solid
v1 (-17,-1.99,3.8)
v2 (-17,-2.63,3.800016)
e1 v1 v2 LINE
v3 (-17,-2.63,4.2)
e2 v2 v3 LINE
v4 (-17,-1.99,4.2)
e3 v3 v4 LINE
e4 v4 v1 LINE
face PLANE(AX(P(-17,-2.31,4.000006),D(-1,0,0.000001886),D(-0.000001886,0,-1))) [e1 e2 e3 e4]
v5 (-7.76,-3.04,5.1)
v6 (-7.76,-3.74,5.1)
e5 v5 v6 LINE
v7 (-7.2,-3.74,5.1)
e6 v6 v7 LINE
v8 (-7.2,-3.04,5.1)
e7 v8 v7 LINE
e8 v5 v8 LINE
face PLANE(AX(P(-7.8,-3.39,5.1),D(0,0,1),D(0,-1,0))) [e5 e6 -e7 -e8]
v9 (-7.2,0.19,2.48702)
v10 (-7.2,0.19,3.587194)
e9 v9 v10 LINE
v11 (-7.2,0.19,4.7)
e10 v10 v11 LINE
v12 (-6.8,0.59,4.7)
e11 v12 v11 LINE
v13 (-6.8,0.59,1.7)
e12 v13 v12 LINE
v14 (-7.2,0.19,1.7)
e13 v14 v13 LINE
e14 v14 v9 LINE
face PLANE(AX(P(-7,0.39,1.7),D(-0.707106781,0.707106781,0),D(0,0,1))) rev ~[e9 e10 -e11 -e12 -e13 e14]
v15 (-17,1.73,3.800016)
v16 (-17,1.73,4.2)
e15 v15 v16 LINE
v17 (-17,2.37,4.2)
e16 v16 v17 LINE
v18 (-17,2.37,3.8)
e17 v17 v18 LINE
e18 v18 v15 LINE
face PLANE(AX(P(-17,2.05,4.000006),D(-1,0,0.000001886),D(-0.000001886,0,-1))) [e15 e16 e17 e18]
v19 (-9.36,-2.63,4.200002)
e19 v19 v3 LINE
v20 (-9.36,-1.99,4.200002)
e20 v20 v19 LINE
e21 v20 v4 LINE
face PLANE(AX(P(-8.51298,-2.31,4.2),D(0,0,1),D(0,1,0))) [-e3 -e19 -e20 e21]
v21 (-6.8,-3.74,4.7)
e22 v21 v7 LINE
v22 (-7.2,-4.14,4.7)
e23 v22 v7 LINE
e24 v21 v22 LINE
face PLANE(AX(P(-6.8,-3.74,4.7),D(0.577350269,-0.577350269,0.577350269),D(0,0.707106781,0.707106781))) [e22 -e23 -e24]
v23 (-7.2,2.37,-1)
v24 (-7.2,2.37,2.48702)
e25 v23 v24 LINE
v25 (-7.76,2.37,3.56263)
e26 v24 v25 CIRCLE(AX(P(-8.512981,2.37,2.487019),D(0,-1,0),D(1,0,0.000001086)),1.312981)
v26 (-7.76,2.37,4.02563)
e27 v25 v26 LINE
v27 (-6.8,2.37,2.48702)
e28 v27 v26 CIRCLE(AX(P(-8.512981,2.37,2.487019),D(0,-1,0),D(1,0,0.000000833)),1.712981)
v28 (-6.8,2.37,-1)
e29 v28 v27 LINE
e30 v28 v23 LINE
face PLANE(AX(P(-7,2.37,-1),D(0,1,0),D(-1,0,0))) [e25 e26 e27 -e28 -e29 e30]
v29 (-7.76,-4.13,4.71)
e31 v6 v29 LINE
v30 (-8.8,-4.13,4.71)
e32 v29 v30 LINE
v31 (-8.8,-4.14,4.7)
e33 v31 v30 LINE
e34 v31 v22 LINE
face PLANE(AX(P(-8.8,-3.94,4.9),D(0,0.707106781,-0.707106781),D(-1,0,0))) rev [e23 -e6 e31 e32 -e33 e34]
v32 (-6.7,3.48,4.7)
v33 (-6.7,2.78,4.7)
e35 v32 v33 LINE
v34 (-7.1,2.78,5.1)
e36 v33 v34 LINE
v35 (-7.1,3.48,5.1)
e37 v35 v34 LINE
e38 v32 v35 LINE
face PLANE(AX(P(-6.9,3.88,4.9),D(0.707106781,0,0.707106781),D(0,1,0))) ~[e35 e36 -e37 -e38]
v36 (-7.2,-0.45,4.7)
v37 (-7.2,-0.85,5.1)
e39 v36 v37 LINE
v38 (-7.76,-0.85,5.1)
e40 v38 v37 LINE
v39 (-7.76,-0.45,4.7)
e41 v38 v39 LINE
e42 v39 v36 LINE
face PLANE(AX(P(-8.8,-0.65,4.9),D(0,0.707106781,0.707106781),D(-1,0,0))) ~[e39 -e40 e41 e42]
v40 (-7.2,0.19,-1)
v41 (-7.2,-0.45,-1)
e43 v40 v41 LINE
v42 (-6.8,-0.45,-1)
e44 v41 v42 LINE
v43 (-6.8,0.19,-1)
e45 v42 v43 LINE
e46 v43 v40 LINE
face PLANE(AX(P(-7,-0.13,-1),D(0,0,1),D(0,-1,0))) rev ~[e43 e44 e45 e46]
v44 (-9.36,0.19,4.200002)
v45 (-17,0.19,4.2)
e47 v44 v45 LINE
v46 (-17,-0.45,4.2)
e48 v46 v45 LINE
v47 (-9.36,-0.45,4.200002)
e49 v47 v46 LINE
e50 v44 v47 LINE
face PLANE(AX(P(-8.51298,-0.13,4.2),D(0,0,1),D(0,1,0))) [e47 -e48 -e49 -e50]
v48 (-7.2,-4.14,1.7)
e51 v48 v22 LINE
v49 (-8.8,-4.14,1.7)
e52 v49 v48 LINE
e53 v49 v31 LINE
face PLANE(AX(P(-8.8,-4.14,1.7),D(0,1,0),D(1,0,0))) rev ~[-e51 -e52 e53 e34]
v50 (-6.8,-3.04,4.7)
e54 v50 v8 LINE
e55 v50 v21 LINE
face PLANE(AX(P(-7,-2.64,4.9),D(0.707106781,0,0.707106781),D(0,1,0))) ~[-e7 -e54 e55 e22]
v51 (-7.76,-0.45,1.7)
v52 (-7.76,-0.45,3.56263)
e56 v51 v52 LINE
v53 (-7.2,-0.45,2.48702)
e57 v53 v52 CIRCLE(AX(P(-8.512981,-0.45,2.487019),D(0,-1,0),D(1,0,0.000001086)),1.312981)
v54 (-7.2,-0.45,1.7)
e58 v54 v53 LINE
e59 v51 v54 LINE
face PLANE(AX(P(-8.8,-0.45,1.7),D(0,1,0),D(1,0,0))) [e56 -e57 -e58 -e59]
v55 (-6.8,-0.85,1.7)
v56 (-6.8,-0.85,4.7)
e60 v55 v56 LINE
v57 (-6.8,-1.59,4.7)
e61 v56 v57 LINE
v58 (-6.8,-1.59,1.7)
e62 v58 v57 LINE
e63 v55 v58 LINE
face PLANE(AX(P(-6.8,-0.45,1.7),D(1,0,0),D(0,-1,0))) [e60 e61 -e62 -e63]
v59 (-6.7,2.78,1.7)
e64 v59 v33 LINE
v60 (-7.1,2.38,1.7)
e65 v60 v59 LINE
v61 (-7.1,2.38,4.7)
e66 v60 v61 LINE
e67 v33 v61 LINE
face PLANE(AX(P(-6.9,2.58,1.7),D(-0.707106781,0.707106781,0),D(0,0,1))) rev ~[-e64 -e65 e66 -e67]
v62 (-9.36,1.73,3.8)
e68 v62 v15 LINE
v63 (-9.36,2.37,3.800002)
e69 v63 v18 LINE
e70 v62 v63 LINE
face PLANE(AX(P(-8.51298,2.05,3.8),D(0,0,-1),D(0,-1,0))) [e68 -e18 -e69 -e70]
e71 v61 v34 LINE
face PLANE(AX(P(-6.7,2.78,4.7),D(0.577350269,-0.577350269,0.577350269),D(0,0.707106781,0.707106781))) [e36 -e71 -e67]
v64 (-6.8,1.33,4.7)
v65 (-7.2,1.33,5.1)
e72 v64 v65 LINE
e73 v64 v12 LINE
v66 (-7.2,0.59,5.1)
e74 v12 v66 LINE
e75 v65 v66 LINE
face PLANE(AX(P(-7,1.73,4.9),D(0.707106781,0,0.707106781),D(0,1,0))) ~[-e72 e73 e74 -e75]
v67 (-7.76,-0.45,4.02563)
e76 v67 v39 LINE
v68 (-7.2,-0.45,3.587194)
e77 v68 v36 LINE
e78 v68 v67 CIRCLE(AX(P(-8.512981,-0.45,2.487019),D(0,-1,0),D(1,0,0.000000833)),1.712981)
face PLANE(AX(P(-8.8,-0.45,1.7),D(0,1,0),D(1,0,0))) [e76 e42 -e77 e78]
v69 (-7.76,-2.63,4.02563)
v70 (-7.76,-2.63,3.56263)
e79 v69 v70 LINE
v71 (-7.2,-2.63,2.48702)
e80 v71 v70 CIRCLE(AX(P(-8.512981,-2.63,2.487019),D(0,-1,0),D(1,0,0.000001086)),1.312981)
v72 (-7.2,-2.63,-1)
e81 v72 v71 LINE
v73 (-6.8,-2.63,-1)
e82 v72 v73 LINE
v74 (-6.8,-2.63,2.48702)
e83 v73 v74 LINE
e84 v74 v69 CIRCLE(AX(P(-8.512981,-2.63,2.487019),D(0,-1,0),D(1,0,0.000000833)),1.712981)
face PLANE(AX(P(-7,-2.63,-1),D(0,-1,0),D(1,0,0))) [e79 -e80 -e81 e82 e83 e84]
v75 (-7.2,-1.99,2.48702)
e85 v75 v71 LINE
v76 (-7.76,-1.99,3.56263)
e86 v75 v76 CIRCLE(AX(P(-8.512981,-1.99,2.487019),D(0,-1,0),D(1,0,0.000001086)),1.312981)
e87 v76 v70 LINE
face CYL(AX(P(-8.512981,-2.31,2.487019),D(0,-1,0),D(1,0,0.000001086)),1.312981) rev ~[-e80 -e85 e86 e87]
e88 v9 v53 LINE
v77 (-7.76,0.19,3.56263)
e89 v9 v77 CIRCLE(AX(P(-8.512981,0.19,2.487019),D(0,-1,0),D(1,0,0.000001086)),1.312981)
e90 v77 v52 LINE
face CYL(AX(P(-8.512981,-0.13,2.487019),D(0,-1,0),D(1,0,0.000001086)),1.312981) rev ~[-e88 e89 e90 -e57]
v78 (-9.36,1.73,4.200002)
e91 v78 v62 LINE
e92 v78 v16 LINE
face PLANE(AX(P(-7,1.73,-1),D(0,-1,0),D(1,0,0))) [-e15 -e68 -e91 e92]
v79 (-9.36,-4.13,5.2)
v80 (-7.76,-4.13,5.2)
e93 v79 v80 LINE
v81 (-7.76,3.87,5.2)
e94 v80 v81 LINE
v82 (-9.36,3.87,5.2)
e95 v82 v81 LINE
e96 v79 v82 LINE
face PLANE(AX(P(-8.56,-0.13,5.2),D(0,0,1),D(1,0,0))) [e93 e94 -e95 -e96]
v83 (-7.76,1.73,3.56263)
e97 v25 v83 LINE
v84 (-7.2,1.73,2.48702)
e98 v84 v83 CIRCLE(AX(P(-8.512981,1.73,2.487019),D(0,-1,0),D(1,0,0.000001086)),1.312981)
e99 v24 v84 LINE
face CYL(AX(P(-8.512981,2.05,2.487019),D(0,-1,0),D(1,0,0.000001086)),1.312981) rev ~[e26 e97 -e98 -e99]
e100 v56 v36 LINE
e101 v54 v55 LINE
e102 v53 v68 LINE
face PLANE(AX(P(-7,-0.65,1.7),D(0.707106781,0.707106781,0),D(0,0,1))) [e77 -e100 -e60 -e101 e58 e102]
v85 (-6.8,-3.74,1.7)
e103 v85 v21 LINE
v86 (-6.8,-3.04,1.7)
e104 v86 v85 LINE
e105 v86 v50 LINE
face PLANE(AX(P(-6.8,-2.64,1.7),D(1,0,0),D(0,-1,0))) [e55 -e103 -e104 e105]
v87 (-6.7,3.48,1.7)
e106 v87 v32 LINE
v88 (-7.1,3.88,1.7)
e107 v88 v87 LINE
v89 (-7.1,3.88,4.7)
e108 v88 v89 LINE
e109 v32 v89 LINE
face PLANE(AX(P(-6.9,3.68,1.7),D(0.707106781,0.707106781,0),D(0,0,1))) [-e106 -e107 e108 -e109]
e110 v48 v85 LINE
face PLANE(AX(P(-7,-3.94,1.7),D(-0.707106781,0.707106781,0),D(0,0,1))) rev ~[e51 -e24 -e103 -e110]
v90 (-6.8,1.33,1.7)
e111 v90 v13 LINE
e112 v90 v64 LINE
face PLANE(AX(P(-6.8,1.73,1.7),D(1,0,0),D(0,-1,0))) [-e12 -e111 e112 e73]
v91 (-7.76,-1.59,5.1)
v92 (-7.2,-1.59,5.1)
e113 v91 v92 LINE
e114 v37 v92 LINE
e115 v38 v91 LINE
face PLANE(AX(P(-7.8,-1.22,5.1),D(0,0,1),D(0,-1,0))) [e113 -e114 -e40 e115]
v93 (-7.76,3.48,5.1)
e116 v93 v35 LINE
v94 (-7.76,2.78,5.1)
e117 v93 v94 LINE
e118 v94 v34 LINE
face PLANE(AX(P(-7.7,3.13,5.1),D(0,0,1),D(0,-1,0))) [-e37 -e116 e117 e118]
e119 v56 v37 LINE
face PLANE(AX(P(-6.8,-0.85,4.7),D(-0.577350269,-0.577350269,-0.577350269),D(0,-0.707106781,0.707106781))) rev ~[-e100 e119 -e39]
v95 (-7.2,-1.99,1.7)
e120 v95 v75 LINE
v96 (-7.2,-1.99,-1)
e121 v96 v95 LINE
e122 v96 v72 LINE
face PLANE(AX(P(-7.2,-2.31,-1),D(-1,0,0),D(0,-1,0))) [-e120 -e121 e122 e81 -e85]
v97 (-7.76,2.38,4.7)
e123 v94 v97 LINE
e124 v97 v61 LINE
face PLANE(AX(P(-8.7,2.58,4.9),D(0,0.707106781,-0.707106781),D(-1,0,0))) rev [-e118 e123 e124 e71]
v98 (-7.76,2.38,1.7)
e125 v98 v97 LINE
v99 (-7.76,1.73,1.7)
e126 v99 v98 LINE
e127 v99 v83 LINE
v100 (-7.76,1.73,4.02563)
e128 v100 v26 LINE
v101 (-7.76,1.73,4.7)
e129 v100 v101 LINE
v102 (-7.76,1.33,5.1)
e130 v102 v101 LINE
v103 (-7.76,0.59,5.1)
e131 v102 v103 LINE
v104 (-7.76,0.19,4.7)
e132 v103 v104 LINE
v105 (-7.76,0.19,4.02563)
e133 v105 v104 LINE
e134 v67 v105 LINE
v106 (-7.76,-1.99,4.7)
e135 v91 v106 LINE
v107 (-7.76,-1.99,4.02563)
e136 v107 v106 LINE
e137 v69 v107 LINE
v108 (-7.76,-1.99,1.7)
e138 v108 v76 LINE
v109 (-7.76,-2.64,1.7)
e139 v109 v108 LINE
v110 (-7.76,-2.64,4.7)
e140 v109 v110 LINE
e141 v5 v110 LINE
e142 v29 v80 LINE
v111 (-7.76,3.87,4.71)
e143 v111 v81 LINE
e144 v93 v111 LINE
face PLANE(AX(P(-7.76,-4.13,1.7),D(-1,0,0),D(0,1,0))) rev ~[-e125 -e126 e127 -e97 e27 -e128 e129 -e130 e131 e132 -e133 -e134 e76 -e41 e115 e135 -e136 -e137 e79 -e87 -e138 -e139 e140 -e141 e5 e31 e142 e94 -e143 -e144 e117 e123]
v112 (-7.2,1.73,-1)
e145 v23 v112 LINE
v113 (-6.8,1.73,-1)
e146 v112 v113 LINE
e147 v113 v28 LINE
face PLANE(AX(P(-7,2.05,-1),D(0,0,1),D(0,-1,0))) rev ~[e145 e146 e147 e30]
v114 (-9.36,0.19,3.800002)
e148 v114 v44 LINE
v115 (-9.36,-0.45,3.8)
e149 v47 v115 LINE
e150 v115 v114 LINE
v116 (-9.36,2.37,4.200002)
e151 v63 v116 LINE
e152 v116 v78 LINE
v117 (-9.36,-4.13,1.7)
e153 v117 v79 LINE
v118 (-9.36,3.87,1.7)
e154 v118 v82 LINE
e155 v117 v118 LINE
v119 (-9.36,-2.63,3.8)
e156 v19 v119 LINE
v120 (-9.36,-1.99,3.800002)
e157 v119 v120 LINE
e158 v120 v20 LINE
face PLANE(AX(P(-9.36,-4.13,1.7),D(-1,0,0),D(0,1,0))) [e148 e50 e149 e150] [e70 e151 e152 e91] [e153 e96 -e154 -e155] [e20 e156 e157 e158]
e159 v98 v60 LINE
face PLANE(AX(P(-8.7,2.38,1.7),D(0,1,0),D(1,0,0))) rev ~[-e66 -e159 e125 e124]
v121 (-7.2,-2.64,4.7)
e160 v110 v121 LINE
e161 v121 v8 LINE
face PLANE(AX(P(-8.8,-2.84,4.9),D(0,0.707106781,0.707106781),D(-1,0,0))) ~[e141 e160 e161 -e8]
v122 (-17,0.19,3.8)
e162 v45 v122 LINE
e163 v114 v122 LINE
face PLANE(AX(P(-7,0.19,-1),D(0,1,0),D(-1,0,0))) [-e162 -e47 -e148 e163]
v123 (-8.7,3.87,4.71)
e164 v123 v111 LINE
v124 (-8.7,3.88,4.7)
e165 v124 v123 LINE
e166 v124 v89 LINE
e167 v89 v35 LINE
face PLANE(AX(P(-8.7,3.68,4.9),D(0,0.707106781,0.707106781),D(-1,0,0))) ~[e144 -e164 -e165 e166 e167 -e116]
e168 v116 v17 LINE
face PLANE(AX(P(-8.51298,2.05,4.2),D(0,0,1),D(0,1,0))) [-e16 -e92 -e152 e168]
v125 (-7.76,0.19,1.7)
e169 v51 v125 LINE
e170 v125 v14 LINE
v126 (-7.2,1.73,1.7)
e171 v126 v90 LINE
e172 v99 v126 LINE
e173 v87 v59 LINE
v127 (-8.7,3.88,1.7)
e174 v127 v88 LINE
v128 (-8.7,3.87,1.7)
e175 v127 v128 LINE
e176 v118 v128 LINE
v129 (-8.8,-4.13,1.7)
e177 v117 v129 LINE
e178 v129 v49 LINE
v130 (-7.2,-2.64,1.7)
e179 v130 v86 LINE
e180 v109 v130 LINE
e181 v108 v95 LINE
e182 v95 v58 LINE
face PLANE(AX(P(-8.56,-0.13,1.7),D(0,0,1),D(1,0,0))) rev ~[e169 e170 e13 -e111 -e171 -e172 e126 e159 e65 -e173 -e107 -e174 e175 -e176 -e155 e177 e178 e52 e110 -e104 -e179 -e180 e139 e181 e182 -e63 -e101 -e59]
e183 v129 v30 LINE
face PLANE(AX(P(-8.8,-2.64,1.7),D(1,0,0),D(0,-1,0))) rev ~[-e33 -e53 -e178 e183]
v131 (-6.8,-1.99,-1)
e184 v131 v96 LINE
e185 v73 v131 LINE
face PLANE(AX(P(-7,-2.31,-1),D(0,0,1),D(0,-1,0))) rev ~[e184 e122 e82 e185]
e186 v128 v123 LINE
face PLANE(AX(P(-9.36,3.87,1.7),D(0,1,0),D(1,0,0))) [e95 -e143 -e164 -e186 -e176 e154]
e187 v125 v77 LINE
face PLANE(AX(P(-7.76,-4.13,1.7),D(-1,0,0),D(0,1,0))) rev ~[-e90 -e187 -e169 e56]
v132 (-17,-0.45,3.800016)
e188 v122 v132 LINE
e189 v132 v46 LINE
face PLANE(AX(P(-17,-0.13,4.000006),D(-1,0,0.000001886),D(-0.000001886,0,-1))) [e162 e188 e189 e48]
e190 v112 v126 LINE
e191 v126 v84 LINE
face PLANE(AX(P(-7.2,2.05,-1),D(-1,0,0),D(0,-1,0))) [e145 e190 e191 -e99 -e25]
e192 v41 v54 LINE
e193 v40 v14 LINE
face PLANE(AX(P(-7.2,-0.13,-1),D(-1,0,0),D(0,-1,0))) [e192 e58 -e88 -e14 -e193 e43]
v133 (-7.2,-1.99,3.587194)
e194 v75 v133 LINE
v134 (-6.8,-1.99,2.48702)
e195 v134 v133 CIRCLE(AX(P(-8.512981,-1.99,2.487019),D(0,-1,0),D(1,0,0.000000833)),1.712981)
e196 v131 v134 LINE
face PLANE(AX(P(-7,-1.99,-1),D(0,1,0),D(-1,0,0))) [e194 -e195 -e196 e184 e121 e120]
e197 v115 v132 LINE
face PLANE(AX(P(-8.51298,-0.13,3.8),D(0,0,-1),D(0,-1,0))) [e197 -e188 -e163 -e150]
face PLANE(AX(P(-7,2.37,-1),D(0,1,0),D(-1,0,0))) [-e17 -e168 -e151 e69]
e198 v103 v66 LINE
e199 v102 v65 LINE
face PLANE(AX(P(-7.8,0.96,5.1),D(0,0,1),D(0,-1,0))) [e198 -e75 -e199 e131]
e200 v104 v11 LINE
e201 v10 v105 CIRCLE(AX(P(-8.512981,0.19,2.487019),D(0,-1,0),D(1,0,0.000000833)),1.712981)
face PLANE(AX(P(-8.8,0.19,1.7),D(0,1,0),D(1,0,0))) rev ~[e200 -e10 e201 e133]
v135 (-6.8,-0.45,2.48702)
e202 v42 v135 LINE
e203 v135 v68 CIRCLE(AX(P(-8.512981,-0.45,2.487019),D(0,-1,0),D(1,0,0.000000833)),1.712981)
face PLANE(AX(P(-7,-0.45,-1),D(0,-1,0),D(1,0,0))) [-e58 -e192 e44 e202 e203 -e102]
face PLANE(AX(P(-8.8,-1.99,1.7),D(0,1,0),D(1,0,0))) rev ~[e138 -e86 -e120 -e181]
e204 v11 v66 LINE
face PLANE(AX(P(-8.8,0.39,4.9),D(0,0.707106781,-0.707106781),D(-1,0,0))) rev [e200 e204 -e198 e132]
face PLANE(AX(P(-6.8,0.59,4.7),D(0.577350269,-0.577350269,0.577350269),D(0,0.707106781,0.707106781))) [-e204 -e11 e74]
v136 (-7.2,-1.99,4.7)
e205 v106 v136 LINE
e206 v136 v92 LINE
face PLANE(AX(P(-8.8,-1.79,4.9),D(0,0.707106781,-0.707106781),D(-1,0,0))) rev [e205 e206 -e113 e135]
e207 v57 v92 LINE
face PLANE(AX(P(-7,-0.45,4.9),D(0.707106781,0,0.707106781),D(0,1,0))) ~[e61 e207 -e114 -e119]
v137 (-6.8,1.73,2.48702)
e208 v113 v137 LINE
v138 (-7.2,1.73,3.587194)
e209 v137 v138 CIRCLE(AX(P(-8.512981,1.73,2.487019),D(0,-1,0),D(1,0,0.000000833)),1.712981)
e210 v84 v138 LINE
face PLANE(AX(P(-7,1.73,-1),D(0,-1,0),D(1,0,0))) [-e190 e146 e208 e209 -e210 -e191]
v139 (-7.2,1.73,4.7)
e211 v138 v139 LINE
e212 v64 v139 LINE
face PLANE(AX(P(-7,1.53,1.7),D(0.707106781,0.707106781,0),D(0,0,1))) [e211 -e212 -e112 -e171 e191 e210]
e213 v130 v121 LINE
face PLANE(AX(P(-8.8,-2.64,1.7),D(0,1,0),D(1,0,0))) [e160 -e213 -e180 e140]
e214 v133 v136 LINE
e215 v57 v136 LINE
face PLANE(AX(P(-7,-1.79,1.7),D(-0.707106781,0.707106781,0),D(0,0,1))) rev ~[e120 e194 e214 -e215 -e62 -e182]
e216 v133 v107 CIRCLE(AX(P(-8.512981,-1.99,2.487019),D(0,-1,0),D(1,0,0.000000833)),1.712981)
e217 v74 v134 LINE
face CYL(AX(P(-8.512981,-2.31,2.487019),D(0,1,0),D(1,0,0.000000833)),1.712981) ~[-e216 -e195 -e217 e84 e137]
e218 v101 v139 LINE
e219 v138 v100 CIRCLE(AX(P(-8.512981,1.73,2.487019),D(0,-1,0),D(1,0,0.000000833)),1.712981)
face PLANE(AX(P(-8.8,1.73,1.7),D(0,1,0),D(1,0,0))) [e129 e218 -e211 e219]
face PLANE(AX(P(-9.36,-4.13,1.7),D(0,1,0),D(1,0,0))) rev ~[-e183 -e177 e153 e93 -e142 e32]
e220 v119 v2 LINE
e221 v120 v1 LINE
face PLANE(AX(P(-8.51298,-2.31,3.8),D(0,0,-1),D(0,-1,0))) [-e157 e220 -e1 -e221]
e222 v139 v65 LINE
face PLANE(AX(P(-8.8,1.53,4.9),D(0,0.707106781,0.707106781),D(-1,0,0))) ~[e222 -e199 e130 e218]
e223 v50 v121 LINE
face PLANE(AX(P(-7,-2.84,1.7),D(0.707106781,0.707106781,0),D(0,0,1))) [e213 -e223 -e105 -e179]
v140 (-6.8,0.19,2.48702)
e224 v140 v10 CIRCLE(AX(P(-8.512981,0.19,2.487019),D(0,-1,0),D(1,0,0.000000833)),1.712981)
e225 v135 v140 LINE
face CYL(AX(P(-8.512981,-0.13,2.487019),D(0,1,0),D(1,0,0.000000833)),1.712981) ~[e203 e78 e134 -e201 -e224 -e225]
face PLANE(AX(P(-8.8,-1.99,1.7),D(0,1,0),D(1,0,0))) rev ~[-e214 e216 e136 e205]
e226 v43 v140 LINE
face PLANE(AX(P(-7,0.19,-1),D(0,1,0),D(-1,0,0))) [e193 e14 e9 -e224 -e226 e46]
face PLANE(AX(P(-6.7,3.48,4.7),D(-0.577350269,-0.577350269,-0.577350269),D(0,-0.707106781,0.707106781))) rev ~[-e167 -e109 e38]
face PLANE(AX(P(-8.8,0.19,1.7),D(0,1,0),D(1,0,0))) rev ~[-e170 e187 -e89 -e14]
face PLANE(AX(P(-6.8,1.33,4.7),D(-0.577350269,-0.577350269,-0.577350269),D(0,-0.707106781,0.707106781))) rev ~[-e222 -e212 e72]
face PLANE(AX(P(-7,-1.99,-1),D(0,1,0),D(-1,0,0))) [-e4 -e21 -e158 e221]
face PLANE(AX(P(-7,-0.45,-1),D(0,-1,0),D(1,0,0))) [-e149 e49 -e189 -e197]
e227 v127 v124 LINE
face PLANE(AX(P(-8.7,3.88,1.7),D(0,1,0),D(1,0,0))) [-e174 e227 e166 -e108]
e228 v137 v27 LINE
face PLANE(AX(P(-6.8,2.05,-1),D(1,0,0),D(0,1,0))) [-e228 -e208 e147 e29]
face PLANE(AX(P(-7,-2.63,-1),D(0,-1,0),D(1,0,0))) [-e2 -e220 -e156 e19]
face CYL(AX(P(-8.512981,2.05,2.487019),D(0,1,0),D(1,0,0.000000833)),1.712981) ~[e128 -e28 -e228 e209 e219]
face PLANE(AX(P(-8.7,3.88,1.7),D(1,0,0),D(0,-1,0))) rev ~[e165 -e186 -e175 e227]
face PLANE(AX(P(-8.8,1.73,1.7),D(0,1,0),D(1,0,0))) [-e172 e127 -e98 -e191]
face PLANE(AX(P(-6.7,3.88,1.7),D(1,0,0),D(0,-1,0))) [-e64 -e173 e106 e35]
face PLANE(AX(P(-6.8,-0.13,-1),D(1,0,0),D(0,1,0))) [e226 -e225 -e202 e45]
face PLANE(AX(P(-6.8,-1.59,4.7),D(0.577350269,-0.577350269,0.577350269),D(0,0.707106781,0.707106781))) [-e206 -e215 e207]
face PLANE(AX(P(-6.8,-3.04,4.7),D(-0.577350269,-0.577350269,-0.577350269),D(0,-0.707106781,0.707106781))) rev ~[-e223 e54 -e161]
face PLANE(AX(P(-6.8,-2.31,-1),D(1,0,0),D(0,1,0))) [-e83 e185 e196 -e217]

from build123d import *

# Parameters (mm, degrees)
BOX008_W                  = 1.6
BOX008_H                  = 8
BOX008_DEPTH              = 3.5
BOX004_W                  = 1.54
BOX004_H                  = 2
BOX004_DEPTH              = 3.4
CHAMFER002_SIZE           = 0.4
BOX007_W                  = 1.5
BOX007_H                  = 2
BOX007_DEPTH              = 3.4
CHAMFER005_SIZE           = 0.4
BOX005_W                  = 1.54
BOX005_H                  = 2
BOX005_DEPTH              = 3.4
CHAMFER003_SIZE           = 0.4
BOX006_W                  = 1.5
BOX006_H                  = 2
BOX006_DEPTH              = 3.4
CHAMFER004_SIZE           = 0.4
SKETCH002_W               = 0.64
SKETCH002_H               = 0.4
ARRAY001_X_COUNT          = 3
ARRAY001_X_PITCH          = 2.18
FUSION001_PLACEMENT_ANGLE = -90


with BuildPart() as cubo008:
    # Box008 → Box008 (new body)
    with BuildSketch(Plane(origin=(-9.36, -4.13, 1.7), x_dir=(1, 0, 0), z_dir=(0, 0, 1))):
        with Locations((0.8, 4)):
            Rectangle(BOX008_W, BOX008_H)
    extrude(amount=BOX008_DEPTH)


with BuildPart() as chamfer002:
    # Box004 → Box004 (new body)
    with BuildSketch(Plane(origin=(-2.93, -3.3, 0.2), x_dir=(1, 0, 0), z_dir=(0, 0, 1))):
        with Locations((0.77, 1)):
            Rectangle(BOX004_W, BOX004_H)
    extrude(amount=BOX004_DEPTH)

    # Chamfer002
    chamfer002_edges = [chamfer002.edges().sort_by_distance(p)[0] for p in [
        (-2.93, -2.3, 3.6),
        (-2.93, -1.3, 1.9),
        (-1.39, -2.3, 3.6),
        (-1.39, -1.3, 1.9),
        (-2.16, -1.3, 3.6),
    ]]
    chamfer(chamfer002_edges, length=CHAMFER002_SIZE)


with BuildPart() as chamfer002_1:
    # Chamfer002 placement: moved
    add(chamfer002.part.moved(Location((3.2, 1.5, 1.5))))


with BuildPart() as chamfer005:
    # Box007 → Box007 (new body)
    with BuildSketch(Plane(origin=(-1.14, -16.5, 1.4), x_dir=(1, 0, 0), z_dir=(0, 0, 1))):
        with Locations((0.75, 1)):
            Rectangle(BOX007_W, BOX007_H)
    extrude(amount=BOX007_DEPTH)

    # Chamfer005
    chamfer005_edges = [chamfer005.edges().sort_by_distance(p)[0] for p in [
        (-1.14, -15.5, 4.8),
        (-1.14, -14.5, 3.1),
        (0.36, -15.5, 4.8),
        (0.36, -14.5, 3.1),
        (-0.39, -14.5, 4.8),
    ]]
    chamfer(chamfer005_edges, length=CHAMFER005_SIZE)


with BuildPart() as chamfer005_1:
    # Chamfer005 placement: moved
    add(chamfer005.part.moved(Location((5.78, 14.7, 0.3))))


with BuildPart() as chamfer003:
    # Box005 → Box005 (new body)
    with BuildSketch(Plane(origin=(-2.93, -3.3, 0.2), x_dir=(1, 0, 0), z_dir=(0, 0, 1))):
        with Locations((0.77, 1)):
            Rectangle(BOX005_W, BOX005_H)
    extrude(amount=BOX005_DEPTH)

    # Chamfer003
    chamfer003_edges = [chamfer003.edges().sort_by_distance(p)[0] for p in [
        (-2.93, -2.3, 3.6),
        (-2.93, -1.3, 1.9),
        (-1.39, -2.3, 3.6),
        (-1.39, -1.3, 1.9),
        (-2.16, -1.3, 3.6),
    ]]
    chamfer(chamfer003_edges, length=CHAMFER003_SIZE)


with BuildPart() as chamfer003_1:
    # Chamfer003 placement: moved
    add(chamfer003.part.moved(Location((5.38, 1.5, 1.5))))


with BuildPart() as chamfer004:
    # Box006 → Box006 (new body)
    with BuildSketch(Plane(origin=(-1.14, -16.5, 1.4), x_dir=(1, 0, 0), z_dir=(0, 0, 1))):
        with Locations((0.75, 1)):
            Rectangle(BOX006_W, BOX006_H)
    extrude(amount=BOX006_DEPTH)

    # Chamfer004
    chamfer004_edges = [chamfer004.edges().sort_by_distance(p)[0] for p in [
        (-1.14, -15.5, 4.8),
        (-1.14, -14.5, 3.1),
        (0.36, -15.5, 4.8),
        (0.36, -14.5, 3.1),
        (-0.39, -14.5, 4.8),
    ]]
    chamfer(chamfer004_edges, length=CHAMFER004_SIZE)


with BuildPart() as chamfer004_1:
    # Chamfer004 placement: moved
    add(chamfer004.part.moved(Location((-0.74, 14.8, 0.3))))


with BuildPart() as male_conector:
    # Sweep: sweep along a path in Sketch003
    with BuildLine(Plane.YZ) as sweep_path:
        Line((0, 0), (0, 3.48702))
        ThreePointArc((0, 3.48702), (-0.443142, 4.556858), (-1.51298, 5))
        Line((-1.51298, 5), (-10, 5))
    # Sketch002 → Sweep (sweep)
    with BuildSketch(Plane.XY):
        Rectangle(SKETCH002_W, SKETCH002_H)
    sweep(path=sweep_path.line)


with BuildPart() as male_conector_1:
    # Sweep placement: moved
    add(male_conector.part.moved(Location((-0.05, 0, -1))))

    # Array001 X: male-conector ×3


with BuildPart() as male_conector_2:
    add(male_conector_1.part)
    with Locations(*[(i * ARRAY001_X_PITCH, 0, 0) for i in range(1, ARRAY001_X_COUNT)]):
        add(male_conector_1.part)

    # Fusion001: union Chamfer002, Chamfer005, Chamfer003, Chamfer004
    add(chamfer002_1.part)
    add(chamfer005_1.part)
    add(chamfer003_1.part)
    add(chamfer004_1.part)


with BuildPart() as male_conector_3:
    # Fusion001 placement: moved
    add(male_conector_2.part.moved(Location((-7, 2, 0))).rotate(Axis((-7, 2, 0), (0, 0, 1)), FUSION001_PLACEMENT_ANGLE))

    # Fusion002: union Cubo008
    add(cubo008.part)


solid = male_conector_3.part
